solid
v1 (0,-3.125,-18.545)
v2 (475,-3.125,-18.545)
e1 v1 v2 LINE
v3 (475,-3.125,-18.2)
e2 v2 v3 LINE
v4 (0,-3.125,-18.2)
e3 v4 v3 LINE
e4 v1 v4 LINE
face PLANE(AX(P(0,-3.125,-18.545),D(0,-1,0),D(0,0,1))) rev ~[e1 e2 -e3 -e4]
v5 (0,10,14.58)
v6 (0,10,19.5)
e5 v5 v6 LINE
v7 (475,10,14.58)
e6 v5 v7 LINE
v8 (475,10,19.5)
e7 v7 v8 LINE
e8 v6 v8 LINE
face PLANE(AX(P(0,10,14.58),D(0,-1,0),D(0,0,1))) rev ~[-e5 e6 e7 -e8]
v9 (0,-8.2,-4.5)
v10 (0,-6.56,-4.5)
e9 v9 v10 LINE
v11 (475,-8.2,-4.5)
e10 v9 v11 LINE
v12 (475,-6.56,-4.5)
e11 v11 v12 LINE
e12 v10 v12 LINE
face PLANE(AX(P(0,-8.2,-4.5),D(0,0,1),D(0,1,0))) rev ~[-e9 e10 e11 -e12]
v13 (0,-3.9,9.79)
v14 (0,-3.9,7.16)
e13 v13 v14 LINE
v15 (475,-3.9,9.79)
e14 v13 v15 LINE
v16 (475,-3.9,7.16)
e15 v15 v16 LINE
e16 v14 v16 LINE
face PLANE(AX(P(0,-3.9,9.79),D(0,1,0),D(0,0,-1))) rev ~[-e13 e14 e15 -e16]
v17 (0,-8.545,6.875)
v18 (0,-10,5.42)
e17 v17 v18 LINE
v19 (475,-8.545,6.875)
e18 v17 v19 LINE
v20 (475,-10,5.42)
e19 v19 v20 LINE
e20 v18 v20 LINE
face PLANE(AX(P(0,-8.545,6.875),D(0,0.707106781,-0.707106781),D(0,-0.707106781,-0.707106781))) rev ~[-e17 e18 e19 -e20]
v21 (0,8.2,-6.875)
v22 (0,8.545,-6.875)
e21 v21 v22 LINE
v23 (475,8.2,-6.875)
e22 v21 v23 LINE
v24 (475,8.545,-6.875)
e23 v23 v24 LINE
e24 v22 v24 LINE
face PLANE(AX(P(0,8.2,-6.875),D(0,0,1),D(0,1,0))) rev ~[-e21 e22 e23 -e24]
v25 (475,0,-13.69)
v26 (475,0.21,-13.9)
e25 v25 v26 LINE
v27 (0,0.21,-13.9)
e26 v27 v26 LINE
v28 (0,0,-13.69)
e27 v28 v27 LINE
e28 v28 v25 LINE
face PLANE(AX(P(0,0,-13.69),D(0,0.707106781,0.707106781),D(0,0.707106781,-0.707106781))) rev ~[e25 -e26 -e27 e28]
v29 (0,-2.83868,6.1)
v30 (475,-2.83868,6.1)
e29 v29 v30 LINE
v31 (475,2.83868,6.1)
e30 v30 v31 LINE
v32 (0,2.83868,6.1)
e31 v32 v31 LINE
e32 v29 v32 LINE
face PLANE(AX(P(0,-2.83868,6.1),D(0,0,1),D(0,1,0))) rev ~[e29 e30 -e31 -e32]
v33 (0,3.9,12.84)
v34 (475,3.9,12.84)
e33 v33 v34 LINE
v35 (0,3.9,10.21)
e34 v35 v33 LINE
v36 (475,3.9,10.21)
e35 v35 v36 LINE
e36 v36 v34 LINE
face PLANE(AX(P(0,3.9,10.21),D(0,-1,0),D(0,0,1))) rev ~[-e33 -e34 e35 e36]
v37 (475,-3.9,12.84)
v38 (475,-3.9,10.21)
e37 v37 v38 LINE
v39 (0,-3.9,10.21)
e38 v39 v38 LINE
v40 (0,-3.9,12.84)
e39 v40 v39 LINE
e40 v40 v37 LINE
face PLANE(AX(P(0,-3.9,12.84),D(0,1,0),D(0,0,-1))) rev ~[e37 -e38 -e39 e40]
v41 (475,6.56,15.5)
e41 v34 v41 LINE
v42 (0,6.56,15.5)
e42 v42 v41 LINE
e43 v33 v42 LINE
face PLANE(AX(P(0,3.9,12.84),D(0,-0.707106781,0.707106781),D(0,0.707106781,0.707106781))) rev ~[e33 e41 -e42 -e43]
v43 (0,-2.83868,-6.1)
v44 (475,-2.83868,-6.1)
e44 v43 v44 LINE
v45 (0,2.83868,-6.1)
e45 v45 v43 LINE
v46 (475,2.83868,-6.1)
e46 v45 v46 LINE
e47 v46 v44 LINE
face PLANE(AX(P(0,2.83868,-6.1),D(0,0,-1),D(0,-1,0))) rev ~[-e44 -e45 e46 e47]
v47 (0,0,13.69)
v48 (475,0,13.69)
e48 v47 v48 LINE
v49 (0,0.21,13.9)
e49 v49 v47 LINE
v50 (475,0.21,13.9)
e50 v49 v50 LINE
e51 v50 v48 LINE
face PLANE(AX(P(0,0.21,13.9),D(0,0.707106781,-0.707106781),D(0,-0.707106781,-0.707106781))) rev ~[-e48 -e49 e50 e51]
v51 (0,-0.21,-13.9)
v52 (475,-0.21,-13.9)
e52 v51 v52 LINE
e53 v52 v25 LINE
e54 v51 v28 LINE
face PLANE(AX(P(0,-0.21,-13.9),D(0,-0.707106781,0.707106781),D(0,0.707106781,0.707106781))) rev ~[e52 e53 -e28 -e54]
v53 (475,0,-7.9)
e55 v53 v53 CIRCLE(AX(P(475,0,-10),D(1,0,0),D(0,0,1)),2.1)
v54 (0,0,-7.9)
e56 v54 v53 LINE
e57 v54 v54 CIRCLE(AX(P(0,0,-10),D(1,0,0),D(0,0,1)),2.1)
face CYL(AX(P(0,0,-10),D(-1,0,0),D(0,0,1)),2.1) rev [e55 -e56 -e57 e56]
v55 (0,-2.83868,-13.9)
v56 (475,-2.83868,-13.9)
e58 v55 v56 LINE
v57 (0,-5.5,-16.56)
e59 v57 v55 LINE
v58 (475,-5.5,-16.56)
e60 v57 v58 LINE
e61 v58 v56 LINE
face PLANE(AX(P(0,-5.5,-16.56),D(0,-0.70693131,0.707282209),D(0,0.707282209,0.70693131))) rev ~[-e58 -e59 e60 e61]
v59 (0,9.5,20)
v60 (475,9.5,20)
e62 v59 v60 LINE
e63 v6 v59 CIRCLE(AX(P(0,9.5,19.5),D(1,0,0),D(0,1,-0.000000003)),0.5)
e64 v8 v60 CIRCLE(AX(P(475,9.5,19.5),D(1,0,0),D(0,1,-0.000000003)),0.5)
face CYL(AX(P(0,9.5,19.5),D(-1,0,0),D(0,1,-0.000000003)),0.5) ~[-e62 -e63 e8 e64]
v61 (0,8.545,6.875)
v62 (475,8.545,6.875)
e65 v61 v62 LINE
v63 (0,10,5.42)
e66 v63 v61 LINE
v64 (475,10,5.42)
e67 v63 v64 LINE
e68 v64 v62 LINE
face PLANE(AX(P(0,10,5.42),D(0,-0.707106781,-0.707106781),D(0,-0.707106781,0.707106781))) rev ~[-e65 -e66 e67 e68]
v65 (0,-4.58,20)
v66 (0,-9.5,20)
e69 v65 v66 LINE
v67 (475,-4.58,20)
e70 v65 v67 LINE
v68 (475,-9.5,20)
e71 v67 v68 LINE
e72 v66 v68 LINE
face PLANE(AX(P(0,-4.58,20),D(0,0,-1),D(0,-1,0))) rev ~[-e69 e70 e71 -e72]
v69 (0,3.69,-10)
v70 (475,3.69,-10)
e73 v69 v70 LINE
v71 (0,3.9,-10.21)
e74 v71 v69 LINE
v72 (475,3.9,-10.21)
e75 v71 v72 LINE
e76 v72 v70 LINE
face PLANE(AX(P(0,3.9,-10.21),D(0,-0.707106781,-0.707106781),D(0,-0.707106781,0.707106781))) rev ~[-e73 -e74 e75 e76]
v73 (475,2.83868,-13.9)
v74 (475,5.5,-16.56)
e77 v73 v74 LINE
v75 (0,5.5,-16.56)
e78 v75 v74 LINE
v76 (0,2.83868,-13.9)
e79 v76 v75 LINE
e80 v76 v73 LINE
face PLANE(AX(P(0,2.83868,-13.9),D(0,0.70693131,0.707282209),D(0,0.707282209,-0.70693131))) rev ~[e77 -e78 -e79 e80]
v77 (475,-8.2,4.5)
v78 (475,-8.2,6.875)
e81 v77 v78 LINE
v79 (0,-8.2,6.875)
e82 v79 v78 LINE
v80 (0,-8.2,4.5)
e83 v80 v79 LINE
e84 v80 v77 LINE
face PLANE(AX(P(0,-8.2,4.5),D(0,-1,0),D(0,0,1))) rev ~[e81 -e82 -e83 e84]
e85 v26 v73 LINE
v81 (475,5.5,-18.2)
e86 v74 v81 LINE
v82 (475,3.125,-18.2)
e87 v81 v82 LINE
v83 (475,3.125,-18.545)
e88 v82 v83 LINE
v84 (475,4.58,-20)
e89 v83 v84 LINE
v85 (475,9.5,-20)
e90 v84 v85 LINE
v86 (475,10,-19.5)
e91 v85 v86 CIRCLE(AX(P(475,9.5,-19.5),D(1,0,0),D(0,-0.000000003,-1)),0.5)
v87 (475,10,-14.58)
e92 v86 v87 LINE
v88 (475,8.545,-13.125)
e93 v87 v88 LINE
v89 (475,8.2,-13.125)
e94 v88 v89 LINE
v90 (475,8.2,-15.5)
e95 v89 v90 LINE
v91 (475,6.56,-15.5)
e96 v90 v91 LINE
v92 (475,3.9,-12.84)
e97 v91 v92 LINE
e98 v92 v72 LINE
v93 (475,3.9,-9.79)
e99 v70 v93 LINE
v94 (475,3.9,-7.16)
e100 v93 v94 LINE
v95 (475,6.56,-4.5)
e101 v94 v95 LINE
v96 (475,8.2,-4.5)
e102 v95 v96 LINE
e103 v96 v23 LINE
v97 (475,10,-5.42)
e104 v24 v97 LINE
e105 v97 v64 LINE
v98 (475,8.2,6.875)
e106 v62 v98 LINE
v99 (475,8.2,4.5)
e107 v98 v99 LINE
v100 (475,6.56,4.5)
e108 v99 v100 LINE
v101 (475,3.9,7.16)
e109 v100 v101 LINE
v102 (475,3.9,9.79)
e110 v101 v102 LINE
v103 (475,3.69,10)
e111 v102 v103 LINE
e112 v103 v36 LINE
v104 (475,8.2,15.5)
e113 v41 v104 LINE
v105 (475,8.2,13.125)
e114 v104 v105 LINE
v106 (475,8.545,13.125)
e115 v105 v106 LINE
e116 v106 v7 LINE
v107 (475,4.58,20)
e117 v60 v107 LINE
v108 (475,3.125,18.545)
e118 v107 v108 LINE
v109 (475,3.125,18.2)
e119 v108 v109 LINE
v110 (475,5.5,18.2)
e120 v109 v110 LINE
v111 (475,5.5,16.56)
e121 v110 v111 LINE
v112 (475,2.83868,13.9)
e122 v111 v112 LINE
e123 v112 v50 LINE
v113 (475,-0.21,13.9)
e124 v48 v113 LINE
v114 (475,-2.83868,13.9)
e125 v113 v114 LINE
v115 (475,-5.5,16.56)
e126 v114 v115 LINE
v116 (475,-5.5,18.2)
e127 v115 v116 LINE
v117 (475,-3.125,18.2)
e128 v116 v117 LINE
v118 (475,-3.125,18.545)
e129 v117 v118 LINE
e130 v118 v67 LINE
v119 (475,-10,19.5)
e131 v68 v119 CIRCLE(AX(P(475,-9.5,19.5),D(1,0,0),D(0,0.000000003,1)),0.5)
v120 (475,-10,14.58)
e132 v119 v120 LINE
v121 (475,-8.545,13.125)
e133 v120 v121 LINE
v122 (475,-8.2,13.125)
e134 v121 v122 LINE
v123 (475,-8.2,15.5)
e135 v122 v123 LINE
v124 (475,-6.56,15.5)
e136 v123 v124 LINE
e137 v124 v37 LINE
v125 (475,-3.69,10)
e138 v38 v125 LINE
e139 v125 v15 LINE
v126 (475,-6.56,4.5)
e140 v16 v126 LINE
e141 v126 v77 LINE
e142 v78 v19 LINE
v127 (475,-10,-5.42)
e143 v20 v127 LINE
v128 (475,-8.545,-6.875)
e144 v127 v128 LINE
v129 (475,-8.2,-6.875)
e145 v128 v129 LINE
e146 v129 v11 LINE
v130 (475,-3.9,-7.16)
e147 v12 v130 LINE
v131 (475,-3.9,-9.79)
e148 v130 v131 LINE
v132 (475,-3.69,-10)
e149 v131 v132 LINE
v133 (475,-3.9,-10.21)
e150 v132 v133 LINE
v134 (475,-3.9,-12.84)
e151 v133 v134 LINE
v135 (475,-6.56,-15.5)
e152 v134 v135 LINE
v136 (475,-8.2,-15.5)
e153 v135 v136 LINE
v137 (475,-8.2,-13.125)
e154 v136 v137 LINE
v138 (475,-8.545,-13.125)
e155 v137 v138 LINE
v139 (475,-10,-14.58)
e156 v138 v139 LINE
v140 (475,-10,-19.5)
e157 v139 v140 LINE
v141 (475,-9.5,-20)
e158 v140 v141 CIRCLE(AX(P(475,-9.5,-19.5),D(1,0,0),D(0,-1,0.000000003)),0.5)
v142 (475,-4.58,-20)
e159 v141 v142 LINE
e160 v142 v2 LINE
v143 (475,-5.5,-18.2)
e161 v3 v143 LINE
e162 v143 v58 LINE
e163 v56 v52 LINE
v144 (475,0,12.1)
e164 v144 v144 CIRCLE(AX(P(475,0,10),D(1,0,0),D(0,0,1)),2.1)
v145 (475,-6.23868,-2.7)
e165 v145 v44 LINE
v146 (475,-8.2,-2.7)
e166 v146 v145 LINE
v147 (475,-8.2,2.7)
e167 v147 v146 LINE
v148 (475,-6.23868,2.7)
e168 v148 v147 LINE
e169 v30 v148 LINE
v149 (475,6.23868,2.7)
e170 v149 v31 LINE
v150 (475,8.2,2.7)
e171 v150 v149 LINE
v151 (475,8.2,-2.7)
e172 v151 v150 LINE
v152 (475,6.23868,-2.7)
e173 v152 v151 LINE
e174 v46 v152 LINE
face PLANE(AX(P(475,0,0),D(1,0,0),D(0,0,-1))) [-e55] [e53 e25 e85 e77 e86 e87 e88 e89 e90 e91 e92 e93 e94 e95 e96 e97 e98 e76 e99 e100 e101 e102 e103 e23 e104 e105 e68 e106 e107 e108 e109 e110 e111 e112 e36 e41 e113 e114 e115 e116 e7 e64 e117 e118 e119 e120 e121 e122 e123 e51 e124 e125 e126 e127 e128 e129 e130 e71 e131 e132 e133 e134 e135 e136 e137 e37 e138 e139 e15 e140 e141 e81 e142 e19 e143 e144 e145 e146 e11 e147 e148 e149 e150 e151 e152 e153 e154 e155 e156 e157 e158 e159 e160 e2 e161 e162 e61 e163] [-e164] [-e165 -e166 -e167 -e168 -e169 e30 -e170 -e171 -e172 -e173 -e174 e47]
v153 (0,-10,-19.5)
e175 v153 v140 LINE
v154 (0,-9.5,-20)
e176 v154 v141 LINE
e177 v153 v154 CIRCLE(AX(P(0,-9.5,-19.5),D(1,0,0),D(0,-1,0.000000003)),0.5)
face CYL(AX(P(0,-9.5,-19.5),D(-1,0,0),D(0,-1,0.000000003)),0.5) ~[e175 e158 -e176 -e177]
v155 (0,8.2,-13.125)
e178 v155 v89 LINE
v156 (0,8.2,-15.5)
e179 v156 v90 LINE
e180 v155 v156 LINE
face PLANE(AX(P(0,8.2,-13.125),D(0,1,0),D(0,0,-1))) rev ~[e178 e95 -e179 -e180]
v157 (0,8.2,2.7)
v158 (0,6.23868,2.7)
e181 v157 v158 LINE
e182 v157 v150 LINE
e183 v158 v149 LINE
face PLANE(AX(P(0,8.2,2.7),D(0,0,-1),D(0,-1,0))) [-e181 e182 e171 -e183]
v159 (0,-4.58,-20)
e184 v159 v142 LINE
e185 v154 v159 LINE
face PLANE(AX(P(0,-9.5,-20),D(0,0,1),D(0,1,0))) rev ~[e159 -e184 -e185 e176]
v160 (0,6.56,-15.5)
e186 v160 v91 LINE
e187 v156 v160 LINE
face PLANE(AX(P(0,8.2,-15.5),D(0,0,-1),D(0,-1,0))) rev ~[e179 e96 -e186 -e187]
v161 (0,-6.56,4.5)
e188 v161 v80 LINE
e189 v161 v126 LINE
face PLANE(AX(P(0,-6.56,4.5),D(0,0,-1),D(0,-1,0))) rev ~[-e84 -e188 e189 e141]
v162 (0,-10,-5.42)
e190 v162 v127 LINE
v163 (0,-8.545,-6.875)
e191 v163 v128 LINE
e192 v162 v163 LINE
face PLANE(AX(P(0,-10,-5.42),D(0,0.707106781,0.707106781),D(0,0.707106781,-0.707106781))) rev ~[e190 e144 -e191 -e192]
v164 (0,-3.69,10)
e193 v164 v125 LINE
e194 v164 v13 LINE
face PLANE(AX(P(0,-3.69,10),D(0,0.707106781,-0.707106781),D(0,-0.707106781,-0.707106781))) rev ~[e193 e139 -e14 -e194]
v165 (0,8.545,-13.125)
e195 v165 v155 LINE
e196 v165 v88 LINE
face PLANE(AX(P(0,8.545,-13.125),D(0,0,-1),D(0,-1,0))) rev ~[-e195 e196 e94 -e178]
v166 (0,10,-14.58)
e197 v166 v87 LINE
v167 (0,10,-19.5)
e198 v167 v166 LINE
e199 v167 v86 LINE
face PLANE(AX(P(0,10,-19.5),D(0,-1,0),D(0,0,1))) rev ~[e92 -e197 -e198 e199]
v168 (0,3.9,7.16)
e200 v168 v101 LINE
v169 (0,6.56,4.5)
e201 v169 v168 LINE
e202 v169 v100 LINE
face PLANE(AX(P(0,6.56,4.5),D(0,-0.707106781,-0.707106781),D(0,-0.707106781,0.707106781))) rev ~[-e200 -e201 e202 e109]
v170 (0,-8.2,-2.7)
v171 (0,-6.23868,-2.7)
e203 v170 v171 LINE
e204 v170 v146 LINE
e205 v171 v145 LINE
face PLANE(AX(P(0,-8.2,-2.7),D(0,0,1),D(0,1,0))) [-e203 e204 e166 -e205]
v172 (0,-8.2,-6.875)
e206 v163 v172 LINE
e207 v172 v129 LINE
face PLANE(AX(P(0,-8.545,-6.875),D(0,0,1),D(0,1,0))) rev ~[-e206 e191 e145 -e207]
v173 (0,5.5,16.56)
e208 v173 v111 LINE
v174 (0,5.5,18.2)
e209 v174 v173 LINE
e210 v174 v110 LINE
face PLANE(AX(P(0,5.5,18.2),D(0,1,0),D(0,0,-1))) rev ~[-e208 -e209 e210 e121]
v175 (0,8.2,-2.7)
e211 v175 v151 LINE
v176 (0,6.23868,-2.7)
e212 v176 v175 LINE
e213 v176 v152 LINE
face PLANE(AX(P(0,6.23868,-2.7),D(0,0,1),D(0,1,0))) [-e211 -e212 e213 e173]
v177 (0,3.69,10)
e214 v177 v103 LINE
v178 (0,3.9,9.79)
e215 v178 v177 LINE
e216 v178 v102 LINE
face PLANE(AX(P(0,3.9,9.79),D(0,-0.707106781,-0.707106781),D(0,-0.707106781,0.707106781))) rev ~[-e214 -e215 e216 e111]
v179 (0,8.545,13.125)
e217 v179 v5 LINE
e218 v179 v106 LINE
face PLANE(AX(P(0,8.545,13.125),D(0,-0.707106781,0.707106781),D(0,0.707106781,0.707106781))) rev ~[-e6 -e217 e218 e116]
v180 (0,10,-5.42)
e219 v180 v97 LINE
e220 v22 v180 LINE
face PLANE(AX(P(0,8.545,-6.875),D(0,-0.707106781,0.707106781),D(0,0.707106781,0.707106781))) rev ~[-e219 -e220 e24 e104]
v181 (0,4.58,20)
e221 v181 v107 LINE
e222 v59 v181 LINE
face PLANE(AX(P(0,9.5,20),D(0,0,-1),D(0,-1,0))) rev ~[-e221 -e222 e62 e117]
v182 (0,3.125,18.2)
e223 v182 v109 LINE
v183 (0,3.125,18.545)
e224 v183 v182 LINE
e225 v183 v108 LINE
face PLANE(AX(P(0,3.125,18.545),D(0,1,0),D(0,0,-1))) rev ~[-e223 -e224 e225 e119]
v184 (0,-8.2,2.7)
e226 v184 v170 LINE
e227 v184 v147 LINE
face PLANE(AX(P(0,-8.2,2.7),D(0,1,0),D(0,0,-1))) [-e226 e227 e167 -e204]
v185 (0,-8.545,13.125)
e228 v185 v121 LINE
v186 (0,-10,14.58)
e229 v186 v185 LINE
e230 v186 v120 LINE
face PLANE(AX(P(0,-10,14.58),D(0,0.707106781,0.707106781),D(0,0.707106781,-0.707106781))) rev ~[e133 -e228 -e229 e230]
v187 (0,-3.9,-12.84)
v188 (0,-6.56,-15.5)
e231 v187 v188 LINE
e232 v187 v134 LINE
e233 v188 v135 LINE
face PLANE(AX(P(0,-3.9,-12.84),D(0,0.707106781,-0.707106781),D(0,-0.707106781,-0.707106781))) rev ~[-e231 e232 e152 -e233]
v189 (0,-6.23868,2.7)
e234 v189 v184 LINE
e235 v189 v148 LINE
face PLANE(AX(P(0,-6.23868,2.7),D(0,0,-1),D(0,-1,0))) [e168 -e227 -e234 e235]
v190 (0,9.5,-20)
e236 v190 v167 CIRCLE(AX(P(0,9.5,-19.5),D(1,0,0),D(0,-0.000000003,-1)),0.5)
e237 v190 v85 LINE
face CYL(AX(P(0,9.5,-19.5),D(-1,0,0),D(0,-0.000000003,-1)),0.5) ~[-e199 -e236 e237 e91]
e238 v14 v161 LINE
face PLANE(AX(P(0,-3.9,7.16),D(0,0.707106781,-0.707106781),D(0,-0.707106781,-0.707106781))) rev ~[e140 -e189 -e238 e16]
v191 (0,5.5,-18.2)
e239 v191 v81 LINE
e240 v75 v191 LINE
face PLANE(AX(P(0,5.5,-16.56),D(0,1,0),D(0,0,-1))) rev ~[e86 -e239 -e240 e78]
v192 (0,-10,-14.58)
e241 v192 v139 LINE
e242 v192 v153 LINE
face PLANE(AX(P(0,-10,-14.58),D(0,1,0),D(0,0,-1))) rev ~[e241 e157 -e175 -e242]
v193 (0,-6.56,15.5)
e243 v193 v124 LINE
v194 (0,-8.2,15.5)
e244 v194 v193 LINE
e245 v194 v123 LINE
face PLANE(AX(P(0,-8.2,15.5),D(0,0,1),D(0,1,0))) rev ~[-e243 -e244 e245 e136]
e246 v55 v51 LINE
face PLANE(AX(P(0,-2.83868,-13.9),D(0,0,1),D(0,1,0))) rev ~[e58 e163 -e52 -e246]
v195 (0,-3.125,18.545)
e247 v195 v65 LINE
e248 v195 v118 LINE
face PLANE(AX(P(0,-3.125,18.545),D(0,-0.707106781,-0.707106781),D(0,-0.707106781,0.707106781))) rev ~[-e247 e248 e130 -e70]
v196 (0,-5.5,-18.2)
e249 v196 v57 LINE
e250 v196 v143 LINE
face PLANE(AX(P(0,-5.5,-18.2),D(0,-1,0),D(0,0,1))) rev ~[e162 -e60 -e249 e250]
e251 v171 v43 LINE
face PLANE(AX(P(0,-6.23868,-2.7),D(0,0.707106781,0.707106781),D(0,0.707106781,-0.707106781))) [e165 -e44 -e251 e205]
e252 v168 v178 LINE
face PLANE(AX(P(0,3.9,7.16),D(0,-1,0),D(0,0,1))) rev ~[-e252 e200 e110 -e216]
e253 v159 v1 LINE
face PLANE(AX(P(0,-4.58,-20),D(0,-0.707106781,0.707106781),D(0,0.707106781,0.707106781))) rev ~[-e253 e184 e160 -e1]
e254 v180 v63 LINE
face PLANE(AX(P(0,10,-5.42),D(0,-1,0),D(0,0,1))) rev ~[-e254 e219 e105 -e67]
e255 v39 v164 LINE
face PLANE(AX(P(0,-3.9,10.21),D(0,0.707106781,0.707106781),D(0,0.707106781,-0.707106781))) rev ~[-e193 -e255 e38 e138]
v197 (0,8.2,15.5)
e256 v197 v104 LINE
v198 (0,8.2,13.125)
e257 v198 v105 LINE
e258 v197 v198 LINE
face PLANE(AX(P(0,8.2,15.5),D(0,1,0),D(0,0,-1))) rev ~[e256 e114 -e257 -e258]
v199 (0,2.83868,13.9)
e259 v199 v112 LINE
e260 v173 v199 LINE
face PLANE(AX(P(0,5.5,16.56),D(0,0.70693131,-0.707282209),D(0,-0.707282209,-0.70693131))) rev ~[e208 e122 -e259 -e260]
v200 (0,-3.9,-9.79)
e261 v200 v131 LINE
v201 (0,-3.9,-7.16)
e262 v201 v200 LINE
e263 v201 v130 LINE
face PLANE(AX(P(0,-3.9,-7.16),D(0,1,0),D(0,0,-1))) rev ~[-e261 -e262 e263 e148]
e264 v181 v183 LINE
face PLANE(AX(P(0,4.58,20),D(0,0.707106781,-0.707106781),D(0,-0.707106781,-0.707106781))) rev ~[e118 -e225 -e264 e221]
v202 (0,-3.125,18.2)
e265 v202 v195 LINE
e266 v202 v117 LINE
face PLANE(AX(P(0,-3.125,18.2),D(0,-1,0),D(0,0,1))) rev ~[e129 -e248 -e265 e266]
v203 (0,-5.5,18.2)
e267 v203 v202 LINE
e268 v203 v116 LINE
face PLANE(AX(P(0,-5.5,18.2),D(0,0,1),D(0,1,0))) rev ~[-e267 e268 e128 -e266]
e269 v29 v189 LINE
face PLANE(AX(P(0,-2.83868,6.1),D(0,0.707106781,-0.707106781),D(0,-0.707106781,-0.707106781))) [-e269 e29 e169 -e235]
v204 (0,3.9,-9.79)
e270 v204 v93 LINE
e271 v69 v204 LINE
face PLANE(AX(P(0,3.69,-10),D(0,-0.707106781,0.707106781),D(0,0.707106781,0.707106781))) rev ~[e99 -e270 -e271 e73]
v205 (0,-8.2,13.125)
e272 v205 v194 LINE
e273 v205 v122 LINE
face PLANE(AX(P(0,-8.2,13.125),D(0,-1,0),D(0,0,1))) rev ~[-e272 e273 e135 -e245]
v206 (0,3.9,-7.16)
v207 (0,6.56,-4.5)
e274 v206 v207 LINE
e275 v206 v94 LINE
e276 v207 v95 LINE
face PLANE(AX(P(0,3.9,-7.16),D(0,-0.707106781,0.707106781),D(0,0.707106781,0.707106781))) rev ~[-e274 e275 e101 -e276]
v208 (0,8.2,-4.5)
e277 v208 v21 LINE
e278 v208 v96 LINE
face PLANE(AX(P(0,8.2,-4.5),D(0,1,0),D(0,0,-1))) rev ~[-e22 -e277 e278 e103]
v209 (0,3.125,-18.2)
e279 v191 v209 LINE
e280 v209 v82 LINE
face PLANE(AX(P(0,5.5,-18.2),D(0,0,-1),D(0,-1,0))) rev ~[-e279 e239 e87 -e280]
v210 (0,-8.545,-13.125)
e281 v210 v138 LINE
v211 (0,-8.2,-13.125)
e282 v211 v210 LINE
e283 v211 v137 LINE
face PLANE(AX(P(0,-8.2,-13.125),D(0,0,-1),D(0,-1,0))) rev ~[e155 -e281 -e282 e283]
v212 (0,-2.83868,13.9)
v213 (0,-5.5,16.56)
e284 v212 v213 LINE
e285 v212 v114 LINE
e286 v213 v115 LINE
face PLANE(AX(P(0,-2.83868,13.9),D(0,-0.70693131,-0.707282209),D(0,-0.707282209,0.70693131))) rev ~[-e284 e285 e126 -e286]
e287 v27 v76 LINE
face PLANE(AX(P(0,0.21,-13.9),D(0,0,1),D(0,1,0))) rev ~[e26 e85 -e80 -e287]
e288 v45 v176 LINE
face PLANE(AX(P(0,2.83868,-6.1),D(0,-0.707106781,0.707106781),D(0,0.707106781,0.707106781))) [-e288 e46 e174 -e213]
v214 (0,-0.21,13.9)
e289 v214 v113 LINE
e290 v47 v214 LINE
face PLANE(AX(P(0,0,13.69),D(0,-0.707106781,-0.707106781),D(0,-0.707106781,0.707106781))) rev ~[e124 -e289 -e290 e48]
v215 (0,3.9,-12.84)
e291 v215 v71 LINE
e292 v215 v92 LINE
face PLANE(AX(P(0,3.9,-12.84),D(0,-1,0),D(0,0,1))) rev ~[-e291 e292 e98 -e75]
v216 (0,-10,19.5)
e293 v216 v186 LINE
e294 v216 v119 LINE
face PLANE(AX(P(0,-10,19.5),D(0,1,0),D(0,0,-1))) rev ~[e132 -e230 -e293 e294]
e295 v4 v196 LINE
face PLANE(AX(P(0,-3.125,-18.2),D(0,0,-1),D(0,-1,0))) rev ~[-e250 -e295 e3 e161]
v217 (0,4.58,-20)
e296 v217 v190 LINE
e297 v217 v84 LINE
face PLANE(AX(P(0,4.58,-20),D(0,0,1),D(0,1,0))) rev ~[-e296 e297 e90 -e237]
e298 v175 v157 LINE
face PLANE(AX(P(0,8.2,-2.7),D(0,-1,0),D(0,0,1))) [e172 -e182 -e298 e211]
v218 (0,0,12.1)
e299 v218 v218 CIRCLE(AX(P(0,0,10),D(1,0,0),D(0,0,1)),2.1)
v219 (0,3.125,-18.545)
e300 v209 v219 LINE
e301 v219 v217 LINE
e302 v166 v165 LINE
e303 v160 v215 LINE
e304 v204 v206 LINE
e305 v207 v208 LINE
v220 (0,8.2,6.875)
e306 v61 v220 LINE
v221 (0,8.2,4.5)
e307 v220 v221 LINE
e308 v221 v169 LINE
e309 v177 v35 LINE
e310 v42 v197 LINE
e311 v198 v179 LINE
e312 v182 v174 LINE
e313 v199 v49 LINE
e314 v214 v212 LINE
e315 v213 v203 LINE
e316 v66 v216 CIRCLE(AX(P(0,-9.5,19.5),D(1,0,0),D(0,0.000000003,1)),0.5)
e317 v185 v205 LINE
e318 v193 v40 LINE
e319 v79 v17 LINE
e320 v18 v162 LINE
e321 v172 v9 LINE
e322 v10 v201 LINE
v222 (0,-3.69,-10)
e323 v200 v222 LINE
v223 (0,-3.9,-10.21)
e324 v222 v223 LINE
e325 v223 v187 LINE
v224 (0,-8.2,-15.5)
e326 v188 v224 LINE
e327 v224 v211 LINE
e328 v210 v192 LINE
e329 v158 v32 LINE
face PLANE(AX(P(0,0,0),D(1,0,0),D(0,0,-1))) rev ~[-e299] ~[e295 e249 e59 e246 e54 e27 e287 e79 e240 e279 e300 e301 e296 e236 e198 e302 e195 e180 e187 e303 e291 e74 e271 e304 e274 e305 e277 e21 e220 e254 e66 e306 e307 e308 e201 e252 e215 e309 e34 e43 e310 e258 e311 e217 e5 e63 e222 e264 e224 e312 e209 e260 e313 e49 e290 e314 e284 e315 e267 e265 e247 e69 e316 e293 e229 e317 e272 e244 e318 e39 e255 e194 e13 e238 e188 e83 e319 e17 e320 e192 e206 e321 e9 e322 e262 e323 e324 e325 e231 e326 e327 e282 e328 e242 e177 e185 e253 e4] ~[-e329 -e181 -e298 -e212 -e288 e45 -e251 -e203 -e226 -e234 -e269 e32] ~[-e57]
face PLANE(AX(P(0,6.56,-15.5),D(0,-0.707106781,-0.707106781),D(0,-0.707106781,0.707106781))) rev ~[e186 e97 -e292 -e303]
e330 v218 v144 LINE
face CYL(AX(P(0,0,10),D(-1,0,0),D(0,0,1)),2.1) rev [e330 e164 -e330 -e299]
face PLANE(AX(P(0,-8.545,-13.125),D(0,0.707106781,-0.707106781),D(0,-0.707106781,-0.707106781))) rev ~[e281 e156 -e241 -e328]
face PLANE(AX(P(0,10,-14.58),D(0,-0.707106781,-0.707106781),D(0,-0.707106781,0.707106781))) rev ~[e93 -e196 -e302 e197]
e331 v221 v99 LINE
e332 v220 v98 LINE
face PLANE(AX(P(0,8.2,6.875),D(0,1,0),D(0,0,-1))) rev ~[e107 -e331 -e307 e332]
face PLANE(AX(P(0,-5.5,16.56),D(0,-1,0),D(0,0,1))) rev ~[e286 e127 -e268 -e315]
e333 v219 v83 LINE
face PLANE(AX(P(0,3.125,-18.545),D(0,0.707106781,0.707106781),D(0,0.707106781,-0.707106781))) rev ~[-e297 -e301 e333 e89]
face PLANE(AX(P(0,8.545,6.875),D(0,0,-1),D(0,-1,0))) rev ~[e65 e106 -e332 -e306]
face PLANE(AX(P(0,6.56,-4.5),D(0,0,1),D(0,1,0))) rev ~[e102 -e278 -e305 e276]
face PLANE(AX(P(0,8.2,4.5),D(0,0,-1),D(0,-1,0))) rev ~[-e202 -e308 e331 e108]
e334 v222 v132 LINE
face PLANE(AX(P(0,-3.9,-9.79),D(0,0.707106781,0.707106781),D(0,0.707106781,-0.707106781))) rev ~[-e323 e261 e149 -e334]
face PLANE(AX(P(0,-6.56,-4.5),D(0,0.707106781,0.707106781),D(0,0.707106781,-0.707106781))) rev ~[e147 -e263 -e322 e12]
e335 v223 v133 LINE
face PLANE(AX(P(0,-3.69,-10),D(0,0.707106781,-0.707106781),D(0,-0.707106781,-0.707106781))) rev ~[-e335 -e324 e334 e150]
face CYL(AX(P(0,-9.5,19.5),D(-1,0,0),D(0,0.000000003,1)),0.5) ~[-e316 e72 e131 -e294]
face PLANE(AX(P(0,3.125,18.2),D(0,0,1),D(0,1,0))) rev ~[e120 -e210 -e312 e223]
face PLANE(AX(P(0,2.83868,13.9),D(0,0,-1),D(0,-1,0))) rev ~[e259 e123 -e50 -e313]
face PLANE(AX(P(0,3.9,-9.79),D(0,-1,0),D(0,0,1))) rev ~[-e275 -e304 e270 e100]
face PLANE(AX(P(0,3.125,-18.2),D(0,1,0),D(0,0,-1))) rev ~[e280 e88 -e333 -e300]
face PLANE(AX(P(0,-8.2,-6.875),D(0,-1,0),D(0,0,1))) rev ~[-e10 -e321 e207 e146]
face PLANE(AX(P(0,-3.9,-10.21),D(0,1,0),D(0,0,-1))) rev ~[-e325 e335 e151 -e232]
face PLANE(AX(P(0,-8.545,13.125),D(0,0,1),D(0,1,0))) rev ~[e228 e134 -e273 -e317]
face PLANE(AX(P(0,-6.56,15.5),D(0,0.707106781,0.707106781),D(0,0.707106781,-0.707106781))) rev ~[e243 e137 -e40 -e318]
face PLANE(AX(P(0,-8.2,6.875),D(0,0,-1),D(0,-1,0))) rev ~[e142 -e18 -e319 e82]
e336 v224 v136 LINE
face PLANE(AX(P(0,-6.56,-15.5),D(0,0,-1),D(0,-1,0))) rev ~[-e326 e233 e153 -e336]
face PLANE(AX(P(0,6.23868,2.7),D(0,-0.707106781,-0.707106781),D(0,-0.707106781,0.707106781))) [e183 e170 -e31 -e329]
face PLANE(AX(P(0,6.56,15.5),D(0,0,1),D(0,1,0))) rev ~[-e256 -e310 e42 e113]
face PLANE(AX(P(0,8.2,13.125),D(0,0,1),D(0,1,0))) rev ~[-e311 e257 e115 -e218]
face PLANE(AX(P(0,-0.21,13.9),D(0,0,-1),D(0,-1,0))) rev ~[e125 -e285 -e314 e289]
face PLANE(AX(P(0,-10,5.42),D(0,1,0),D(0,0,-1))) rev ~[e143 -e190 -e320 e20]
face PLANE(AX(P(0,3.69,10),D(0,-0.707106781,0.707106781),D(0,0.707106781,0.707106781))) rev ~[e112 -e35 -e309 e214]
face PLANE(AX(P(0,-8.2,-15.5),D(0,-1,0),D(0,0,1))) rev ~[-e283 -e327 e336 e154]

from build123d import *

# Parameters (mm, degrees)
PROFILE_SKETCH_R      = 2.1
PROFILE_EXTRUDE_DEPTH = 475


with BuildPart() as part:
    # Profile Sketch → Profile Extrude (new body)
    with BuildSketch(Plane(origin=(0, 0, 0), x_dir=(0, 0, -1), z_dir=(1, 0, 0))):
        with BuildLine():
            Line((5.42, 10), (-5.42, 10))
            Line((-5.42, 10), (-6.875, 8.545))
            Line((-6.875, 8.545), (-6.875, 8.2))
            Line((-6.875, 8.2), (-4.5, 8.2))
            Line((-4.5, 8.2), (-4.5, 6.56))
            Line((-4.5, 6.56), (-7.16, 3.9))
            Line((-7.16, 3.9), (-9.79, 3.9))
            Line((-9.79, 3.9), (-10, 3.69))
            Line((-10, 3.69), (-10.21, 3.9))
            Line((-10.21, 3.9), (-12.84, 3.9))
            Line((-12.84, 3.9), (-15.5, 6.56))
            Line((-15.5, 6.56), (-15.5, 8.2))
            Line((-15.5, 8.2), (-13.125, 8.2))
            Line((-13.125, 8.2), (-13.125, 8.545))
            Line((-13.125, 8.545), (-14.58, 10))
            Line((-14.58, 10), (-19.5, 10))
            ThreePointArc((-19.5, 10), (-19.853553391, 9.853553391), (-20, 9.5))
            Line((-20, 9.5), (-20, 4.58))
            Line((-20, 4.58), (-18.545, 3.125))
            Line((-18.545, 3.125), (-18.2, 3.125))
            Line((-18.2, 3.125), (-18.2, 5.5))
            Line((-18.2, 5.5), (-16.56, 5.5))
            Line((-16.56, 5.5), (-13.9, 2.838679656))
            Line((-13.9, 2.838679656), (-13.9, 0.21))
            Line((-13.9, 0.21), (-13.69, 0))
            Line((-13.69, 0), (-13.9, -0.21))
            Line((-13.9, -0.21), (-13.9, -2.838679656))
            Line((-13.9, -2.838679656), (-16.56, -5.5))
            Line((-16.56, -5.5), (-18.2, -5.5))
            Line((-18.2, -5.5), (-18.2, -3.125))
            Line((-18.2, -3.125), (-18.545, -3.125))
            Line((-18.545, -3.125), (-20, -4.58))
            Line((-20, -4.58), (-20, -9.5))
            ThreePointArc((-20, -9.5), (-19.853553391, -9.853553391), (-19.5, -10))
            Line((-19.5, -10), (-14.58, -10))
            Line((-14.58, -10), (-13.125, -8.545))
            Line((-13.125, -8.545), (-13.125, -8.2))
            Line((-13.125, -8.2), (-15.5, -8.2))
            Line((-15.5, -8.2), (-15.5, -6.56))
            Line((-15.5, -6.56), (-12.84, -3.9))
            Line((-12.84, -3.9), (-10.21, -3.9))
            Line((-10.21, -3.9), (-10, -3.69))
            Line((-10, -3.69), (-9.79, -3.9))
            Line((-9.79, -3.9), (-7.16, -3.9))
            Line((-7.16, -3.9), (-4.5, -6.56))
            Line((-4.5, -6.56), (-4.5, -8.2))
            Line((-4.5, -8.2), (-6.875, -8.2))
            Line((-6.875, -8.2), (-6.875, -8.545))
            Line((-6.875, -8.545), (-5.42, -10))
            Line((-5.42, -10), (5.42, -10))
            Line((5.42, -10), (6.875, -8.545))
            Line((6.875, -8.545), (6.875, -8.2))
            Line((6.875, -8.2), (4.5, -8.2))
            Line((4.5, -8.2), (4.5, -6.56))
            Line((4.5, -6.56), (7.16, -3.9))
            Line((7.16, -3.9), (9.79, -3.9))
            Line((9.79, -3.9), (10, -3.69))
            Line((10, -3.69), (10.21, -3.9))
            Line((10.21, -3.9), (12.84, -3.9))
            Line((12.84, -3.9), (15.5, -6.56))
            Line((15.5, -6.56), (15.5, -8.2))
            Line((15.5, -8.2), (13.125, -8.2))
            Line((13.125, -8.2), (13.125, -8.545))
            Line((13.125, -8.545), (14.58, -10))
            Line((14.58, -10), (19.5, -10))
            ThreePointArc((19.5, -10), (19.853553391, -9.853553391), (20, -9.5))
            Line((20, -9.5), (20, -4.58))
            Line((20, -4.58), (18.545, -3.125))
            Line((18.545, -3.125), (18.2, -3.125))
            Line((18.2, -3.125), (18.2, -5.5))
            Line((18.2, -5.5), (16.56, -5.5))
            Line((16.56, -5.5), (13.9, -2.838679656))
            Line((13.9, -2.838679656), (13.9, -0.21))
            Line((13.9, -0.21), (13.69, 0))
            Line((13.69, 0), (13.9, 0.21))
            Line((13.9, 0.21), (13.9, 2.838679656))
            Line((13.9, 2.838679656), (16.56, 5.5))
            Line((16.56, 5.5), (18.2, 5.5))
            Line((18.2, 5.5), (18.2, 3.125))
            Line((18.2, 3.125), (18.545, 3.125))
            Line((18.545, 3.125), (20, 4.58))
            Line((20, 4.58), (20, 9.5))
            ThreePointArc((20, 9.5), (19.853553391, 9.853553391), (19.5, 10))
            Line((19.5, 10), (14.58, 10))
            Line((14.58, 10), (13.125, 8.545))
            Line((13.125, 8.545), (13.125, 8.2))
            Line((13.125, 8.2), (15.5, 8.2))
            Line((15.5, 8.2), (15.5, 6.56))
            Line((15.5, 6.56), (12.84, 3.9))
            Line((12.84, 3.9), (10.21, 3.9))
            Line((10.21, 3.9), (10, 3.69))
            Line((10, 3.69), (9.79, 3.9))
            Line((9.79, 3.9), (7.16, 3.9))
            Line((7.16, 3.9), (4.5, 6.56))
            Line((4.5, 6.56), (4.5, 8.2))
            Line((4.5, 8.2), (6.875, 8.2))
            Line((6.875, 8.2), (6.875, 8.545))
            Line((6.875, 8.545), (5.42, 10))
        make_face()
        with Locations(Location((-10, 0, 0), (0, 0, 180))):
            Circle(PROFILE_SKETCH_R, mode=Mode.SUBTRACT)
        with Locations(Location((10, 0, 0), (0, 0, 180))):
            Circle(PROFILE_SKETCH_R, mode=Mode.SUBTRACT)
        Polygon((2.7, 8.2), (-2.7, 8.2), (-2.7, 6.238679656), (-6.1, 2.838679656), (-6.1, -0.21), (-6.1, -2.838679656), (-2.7, -6.238679656), (-2.7, -8.2), (2.7, -8.2), (2.7, -6.238679656), (6.1, -2.838679656), (6.1, -0.21), (6.1, 2.838679656), (2.7, 6.238679656), align=None, mode=Mode.SUBTRACT)
    extrude(amount=PROFILE_EXTRUDE_DEPTH)


solid = part.part
